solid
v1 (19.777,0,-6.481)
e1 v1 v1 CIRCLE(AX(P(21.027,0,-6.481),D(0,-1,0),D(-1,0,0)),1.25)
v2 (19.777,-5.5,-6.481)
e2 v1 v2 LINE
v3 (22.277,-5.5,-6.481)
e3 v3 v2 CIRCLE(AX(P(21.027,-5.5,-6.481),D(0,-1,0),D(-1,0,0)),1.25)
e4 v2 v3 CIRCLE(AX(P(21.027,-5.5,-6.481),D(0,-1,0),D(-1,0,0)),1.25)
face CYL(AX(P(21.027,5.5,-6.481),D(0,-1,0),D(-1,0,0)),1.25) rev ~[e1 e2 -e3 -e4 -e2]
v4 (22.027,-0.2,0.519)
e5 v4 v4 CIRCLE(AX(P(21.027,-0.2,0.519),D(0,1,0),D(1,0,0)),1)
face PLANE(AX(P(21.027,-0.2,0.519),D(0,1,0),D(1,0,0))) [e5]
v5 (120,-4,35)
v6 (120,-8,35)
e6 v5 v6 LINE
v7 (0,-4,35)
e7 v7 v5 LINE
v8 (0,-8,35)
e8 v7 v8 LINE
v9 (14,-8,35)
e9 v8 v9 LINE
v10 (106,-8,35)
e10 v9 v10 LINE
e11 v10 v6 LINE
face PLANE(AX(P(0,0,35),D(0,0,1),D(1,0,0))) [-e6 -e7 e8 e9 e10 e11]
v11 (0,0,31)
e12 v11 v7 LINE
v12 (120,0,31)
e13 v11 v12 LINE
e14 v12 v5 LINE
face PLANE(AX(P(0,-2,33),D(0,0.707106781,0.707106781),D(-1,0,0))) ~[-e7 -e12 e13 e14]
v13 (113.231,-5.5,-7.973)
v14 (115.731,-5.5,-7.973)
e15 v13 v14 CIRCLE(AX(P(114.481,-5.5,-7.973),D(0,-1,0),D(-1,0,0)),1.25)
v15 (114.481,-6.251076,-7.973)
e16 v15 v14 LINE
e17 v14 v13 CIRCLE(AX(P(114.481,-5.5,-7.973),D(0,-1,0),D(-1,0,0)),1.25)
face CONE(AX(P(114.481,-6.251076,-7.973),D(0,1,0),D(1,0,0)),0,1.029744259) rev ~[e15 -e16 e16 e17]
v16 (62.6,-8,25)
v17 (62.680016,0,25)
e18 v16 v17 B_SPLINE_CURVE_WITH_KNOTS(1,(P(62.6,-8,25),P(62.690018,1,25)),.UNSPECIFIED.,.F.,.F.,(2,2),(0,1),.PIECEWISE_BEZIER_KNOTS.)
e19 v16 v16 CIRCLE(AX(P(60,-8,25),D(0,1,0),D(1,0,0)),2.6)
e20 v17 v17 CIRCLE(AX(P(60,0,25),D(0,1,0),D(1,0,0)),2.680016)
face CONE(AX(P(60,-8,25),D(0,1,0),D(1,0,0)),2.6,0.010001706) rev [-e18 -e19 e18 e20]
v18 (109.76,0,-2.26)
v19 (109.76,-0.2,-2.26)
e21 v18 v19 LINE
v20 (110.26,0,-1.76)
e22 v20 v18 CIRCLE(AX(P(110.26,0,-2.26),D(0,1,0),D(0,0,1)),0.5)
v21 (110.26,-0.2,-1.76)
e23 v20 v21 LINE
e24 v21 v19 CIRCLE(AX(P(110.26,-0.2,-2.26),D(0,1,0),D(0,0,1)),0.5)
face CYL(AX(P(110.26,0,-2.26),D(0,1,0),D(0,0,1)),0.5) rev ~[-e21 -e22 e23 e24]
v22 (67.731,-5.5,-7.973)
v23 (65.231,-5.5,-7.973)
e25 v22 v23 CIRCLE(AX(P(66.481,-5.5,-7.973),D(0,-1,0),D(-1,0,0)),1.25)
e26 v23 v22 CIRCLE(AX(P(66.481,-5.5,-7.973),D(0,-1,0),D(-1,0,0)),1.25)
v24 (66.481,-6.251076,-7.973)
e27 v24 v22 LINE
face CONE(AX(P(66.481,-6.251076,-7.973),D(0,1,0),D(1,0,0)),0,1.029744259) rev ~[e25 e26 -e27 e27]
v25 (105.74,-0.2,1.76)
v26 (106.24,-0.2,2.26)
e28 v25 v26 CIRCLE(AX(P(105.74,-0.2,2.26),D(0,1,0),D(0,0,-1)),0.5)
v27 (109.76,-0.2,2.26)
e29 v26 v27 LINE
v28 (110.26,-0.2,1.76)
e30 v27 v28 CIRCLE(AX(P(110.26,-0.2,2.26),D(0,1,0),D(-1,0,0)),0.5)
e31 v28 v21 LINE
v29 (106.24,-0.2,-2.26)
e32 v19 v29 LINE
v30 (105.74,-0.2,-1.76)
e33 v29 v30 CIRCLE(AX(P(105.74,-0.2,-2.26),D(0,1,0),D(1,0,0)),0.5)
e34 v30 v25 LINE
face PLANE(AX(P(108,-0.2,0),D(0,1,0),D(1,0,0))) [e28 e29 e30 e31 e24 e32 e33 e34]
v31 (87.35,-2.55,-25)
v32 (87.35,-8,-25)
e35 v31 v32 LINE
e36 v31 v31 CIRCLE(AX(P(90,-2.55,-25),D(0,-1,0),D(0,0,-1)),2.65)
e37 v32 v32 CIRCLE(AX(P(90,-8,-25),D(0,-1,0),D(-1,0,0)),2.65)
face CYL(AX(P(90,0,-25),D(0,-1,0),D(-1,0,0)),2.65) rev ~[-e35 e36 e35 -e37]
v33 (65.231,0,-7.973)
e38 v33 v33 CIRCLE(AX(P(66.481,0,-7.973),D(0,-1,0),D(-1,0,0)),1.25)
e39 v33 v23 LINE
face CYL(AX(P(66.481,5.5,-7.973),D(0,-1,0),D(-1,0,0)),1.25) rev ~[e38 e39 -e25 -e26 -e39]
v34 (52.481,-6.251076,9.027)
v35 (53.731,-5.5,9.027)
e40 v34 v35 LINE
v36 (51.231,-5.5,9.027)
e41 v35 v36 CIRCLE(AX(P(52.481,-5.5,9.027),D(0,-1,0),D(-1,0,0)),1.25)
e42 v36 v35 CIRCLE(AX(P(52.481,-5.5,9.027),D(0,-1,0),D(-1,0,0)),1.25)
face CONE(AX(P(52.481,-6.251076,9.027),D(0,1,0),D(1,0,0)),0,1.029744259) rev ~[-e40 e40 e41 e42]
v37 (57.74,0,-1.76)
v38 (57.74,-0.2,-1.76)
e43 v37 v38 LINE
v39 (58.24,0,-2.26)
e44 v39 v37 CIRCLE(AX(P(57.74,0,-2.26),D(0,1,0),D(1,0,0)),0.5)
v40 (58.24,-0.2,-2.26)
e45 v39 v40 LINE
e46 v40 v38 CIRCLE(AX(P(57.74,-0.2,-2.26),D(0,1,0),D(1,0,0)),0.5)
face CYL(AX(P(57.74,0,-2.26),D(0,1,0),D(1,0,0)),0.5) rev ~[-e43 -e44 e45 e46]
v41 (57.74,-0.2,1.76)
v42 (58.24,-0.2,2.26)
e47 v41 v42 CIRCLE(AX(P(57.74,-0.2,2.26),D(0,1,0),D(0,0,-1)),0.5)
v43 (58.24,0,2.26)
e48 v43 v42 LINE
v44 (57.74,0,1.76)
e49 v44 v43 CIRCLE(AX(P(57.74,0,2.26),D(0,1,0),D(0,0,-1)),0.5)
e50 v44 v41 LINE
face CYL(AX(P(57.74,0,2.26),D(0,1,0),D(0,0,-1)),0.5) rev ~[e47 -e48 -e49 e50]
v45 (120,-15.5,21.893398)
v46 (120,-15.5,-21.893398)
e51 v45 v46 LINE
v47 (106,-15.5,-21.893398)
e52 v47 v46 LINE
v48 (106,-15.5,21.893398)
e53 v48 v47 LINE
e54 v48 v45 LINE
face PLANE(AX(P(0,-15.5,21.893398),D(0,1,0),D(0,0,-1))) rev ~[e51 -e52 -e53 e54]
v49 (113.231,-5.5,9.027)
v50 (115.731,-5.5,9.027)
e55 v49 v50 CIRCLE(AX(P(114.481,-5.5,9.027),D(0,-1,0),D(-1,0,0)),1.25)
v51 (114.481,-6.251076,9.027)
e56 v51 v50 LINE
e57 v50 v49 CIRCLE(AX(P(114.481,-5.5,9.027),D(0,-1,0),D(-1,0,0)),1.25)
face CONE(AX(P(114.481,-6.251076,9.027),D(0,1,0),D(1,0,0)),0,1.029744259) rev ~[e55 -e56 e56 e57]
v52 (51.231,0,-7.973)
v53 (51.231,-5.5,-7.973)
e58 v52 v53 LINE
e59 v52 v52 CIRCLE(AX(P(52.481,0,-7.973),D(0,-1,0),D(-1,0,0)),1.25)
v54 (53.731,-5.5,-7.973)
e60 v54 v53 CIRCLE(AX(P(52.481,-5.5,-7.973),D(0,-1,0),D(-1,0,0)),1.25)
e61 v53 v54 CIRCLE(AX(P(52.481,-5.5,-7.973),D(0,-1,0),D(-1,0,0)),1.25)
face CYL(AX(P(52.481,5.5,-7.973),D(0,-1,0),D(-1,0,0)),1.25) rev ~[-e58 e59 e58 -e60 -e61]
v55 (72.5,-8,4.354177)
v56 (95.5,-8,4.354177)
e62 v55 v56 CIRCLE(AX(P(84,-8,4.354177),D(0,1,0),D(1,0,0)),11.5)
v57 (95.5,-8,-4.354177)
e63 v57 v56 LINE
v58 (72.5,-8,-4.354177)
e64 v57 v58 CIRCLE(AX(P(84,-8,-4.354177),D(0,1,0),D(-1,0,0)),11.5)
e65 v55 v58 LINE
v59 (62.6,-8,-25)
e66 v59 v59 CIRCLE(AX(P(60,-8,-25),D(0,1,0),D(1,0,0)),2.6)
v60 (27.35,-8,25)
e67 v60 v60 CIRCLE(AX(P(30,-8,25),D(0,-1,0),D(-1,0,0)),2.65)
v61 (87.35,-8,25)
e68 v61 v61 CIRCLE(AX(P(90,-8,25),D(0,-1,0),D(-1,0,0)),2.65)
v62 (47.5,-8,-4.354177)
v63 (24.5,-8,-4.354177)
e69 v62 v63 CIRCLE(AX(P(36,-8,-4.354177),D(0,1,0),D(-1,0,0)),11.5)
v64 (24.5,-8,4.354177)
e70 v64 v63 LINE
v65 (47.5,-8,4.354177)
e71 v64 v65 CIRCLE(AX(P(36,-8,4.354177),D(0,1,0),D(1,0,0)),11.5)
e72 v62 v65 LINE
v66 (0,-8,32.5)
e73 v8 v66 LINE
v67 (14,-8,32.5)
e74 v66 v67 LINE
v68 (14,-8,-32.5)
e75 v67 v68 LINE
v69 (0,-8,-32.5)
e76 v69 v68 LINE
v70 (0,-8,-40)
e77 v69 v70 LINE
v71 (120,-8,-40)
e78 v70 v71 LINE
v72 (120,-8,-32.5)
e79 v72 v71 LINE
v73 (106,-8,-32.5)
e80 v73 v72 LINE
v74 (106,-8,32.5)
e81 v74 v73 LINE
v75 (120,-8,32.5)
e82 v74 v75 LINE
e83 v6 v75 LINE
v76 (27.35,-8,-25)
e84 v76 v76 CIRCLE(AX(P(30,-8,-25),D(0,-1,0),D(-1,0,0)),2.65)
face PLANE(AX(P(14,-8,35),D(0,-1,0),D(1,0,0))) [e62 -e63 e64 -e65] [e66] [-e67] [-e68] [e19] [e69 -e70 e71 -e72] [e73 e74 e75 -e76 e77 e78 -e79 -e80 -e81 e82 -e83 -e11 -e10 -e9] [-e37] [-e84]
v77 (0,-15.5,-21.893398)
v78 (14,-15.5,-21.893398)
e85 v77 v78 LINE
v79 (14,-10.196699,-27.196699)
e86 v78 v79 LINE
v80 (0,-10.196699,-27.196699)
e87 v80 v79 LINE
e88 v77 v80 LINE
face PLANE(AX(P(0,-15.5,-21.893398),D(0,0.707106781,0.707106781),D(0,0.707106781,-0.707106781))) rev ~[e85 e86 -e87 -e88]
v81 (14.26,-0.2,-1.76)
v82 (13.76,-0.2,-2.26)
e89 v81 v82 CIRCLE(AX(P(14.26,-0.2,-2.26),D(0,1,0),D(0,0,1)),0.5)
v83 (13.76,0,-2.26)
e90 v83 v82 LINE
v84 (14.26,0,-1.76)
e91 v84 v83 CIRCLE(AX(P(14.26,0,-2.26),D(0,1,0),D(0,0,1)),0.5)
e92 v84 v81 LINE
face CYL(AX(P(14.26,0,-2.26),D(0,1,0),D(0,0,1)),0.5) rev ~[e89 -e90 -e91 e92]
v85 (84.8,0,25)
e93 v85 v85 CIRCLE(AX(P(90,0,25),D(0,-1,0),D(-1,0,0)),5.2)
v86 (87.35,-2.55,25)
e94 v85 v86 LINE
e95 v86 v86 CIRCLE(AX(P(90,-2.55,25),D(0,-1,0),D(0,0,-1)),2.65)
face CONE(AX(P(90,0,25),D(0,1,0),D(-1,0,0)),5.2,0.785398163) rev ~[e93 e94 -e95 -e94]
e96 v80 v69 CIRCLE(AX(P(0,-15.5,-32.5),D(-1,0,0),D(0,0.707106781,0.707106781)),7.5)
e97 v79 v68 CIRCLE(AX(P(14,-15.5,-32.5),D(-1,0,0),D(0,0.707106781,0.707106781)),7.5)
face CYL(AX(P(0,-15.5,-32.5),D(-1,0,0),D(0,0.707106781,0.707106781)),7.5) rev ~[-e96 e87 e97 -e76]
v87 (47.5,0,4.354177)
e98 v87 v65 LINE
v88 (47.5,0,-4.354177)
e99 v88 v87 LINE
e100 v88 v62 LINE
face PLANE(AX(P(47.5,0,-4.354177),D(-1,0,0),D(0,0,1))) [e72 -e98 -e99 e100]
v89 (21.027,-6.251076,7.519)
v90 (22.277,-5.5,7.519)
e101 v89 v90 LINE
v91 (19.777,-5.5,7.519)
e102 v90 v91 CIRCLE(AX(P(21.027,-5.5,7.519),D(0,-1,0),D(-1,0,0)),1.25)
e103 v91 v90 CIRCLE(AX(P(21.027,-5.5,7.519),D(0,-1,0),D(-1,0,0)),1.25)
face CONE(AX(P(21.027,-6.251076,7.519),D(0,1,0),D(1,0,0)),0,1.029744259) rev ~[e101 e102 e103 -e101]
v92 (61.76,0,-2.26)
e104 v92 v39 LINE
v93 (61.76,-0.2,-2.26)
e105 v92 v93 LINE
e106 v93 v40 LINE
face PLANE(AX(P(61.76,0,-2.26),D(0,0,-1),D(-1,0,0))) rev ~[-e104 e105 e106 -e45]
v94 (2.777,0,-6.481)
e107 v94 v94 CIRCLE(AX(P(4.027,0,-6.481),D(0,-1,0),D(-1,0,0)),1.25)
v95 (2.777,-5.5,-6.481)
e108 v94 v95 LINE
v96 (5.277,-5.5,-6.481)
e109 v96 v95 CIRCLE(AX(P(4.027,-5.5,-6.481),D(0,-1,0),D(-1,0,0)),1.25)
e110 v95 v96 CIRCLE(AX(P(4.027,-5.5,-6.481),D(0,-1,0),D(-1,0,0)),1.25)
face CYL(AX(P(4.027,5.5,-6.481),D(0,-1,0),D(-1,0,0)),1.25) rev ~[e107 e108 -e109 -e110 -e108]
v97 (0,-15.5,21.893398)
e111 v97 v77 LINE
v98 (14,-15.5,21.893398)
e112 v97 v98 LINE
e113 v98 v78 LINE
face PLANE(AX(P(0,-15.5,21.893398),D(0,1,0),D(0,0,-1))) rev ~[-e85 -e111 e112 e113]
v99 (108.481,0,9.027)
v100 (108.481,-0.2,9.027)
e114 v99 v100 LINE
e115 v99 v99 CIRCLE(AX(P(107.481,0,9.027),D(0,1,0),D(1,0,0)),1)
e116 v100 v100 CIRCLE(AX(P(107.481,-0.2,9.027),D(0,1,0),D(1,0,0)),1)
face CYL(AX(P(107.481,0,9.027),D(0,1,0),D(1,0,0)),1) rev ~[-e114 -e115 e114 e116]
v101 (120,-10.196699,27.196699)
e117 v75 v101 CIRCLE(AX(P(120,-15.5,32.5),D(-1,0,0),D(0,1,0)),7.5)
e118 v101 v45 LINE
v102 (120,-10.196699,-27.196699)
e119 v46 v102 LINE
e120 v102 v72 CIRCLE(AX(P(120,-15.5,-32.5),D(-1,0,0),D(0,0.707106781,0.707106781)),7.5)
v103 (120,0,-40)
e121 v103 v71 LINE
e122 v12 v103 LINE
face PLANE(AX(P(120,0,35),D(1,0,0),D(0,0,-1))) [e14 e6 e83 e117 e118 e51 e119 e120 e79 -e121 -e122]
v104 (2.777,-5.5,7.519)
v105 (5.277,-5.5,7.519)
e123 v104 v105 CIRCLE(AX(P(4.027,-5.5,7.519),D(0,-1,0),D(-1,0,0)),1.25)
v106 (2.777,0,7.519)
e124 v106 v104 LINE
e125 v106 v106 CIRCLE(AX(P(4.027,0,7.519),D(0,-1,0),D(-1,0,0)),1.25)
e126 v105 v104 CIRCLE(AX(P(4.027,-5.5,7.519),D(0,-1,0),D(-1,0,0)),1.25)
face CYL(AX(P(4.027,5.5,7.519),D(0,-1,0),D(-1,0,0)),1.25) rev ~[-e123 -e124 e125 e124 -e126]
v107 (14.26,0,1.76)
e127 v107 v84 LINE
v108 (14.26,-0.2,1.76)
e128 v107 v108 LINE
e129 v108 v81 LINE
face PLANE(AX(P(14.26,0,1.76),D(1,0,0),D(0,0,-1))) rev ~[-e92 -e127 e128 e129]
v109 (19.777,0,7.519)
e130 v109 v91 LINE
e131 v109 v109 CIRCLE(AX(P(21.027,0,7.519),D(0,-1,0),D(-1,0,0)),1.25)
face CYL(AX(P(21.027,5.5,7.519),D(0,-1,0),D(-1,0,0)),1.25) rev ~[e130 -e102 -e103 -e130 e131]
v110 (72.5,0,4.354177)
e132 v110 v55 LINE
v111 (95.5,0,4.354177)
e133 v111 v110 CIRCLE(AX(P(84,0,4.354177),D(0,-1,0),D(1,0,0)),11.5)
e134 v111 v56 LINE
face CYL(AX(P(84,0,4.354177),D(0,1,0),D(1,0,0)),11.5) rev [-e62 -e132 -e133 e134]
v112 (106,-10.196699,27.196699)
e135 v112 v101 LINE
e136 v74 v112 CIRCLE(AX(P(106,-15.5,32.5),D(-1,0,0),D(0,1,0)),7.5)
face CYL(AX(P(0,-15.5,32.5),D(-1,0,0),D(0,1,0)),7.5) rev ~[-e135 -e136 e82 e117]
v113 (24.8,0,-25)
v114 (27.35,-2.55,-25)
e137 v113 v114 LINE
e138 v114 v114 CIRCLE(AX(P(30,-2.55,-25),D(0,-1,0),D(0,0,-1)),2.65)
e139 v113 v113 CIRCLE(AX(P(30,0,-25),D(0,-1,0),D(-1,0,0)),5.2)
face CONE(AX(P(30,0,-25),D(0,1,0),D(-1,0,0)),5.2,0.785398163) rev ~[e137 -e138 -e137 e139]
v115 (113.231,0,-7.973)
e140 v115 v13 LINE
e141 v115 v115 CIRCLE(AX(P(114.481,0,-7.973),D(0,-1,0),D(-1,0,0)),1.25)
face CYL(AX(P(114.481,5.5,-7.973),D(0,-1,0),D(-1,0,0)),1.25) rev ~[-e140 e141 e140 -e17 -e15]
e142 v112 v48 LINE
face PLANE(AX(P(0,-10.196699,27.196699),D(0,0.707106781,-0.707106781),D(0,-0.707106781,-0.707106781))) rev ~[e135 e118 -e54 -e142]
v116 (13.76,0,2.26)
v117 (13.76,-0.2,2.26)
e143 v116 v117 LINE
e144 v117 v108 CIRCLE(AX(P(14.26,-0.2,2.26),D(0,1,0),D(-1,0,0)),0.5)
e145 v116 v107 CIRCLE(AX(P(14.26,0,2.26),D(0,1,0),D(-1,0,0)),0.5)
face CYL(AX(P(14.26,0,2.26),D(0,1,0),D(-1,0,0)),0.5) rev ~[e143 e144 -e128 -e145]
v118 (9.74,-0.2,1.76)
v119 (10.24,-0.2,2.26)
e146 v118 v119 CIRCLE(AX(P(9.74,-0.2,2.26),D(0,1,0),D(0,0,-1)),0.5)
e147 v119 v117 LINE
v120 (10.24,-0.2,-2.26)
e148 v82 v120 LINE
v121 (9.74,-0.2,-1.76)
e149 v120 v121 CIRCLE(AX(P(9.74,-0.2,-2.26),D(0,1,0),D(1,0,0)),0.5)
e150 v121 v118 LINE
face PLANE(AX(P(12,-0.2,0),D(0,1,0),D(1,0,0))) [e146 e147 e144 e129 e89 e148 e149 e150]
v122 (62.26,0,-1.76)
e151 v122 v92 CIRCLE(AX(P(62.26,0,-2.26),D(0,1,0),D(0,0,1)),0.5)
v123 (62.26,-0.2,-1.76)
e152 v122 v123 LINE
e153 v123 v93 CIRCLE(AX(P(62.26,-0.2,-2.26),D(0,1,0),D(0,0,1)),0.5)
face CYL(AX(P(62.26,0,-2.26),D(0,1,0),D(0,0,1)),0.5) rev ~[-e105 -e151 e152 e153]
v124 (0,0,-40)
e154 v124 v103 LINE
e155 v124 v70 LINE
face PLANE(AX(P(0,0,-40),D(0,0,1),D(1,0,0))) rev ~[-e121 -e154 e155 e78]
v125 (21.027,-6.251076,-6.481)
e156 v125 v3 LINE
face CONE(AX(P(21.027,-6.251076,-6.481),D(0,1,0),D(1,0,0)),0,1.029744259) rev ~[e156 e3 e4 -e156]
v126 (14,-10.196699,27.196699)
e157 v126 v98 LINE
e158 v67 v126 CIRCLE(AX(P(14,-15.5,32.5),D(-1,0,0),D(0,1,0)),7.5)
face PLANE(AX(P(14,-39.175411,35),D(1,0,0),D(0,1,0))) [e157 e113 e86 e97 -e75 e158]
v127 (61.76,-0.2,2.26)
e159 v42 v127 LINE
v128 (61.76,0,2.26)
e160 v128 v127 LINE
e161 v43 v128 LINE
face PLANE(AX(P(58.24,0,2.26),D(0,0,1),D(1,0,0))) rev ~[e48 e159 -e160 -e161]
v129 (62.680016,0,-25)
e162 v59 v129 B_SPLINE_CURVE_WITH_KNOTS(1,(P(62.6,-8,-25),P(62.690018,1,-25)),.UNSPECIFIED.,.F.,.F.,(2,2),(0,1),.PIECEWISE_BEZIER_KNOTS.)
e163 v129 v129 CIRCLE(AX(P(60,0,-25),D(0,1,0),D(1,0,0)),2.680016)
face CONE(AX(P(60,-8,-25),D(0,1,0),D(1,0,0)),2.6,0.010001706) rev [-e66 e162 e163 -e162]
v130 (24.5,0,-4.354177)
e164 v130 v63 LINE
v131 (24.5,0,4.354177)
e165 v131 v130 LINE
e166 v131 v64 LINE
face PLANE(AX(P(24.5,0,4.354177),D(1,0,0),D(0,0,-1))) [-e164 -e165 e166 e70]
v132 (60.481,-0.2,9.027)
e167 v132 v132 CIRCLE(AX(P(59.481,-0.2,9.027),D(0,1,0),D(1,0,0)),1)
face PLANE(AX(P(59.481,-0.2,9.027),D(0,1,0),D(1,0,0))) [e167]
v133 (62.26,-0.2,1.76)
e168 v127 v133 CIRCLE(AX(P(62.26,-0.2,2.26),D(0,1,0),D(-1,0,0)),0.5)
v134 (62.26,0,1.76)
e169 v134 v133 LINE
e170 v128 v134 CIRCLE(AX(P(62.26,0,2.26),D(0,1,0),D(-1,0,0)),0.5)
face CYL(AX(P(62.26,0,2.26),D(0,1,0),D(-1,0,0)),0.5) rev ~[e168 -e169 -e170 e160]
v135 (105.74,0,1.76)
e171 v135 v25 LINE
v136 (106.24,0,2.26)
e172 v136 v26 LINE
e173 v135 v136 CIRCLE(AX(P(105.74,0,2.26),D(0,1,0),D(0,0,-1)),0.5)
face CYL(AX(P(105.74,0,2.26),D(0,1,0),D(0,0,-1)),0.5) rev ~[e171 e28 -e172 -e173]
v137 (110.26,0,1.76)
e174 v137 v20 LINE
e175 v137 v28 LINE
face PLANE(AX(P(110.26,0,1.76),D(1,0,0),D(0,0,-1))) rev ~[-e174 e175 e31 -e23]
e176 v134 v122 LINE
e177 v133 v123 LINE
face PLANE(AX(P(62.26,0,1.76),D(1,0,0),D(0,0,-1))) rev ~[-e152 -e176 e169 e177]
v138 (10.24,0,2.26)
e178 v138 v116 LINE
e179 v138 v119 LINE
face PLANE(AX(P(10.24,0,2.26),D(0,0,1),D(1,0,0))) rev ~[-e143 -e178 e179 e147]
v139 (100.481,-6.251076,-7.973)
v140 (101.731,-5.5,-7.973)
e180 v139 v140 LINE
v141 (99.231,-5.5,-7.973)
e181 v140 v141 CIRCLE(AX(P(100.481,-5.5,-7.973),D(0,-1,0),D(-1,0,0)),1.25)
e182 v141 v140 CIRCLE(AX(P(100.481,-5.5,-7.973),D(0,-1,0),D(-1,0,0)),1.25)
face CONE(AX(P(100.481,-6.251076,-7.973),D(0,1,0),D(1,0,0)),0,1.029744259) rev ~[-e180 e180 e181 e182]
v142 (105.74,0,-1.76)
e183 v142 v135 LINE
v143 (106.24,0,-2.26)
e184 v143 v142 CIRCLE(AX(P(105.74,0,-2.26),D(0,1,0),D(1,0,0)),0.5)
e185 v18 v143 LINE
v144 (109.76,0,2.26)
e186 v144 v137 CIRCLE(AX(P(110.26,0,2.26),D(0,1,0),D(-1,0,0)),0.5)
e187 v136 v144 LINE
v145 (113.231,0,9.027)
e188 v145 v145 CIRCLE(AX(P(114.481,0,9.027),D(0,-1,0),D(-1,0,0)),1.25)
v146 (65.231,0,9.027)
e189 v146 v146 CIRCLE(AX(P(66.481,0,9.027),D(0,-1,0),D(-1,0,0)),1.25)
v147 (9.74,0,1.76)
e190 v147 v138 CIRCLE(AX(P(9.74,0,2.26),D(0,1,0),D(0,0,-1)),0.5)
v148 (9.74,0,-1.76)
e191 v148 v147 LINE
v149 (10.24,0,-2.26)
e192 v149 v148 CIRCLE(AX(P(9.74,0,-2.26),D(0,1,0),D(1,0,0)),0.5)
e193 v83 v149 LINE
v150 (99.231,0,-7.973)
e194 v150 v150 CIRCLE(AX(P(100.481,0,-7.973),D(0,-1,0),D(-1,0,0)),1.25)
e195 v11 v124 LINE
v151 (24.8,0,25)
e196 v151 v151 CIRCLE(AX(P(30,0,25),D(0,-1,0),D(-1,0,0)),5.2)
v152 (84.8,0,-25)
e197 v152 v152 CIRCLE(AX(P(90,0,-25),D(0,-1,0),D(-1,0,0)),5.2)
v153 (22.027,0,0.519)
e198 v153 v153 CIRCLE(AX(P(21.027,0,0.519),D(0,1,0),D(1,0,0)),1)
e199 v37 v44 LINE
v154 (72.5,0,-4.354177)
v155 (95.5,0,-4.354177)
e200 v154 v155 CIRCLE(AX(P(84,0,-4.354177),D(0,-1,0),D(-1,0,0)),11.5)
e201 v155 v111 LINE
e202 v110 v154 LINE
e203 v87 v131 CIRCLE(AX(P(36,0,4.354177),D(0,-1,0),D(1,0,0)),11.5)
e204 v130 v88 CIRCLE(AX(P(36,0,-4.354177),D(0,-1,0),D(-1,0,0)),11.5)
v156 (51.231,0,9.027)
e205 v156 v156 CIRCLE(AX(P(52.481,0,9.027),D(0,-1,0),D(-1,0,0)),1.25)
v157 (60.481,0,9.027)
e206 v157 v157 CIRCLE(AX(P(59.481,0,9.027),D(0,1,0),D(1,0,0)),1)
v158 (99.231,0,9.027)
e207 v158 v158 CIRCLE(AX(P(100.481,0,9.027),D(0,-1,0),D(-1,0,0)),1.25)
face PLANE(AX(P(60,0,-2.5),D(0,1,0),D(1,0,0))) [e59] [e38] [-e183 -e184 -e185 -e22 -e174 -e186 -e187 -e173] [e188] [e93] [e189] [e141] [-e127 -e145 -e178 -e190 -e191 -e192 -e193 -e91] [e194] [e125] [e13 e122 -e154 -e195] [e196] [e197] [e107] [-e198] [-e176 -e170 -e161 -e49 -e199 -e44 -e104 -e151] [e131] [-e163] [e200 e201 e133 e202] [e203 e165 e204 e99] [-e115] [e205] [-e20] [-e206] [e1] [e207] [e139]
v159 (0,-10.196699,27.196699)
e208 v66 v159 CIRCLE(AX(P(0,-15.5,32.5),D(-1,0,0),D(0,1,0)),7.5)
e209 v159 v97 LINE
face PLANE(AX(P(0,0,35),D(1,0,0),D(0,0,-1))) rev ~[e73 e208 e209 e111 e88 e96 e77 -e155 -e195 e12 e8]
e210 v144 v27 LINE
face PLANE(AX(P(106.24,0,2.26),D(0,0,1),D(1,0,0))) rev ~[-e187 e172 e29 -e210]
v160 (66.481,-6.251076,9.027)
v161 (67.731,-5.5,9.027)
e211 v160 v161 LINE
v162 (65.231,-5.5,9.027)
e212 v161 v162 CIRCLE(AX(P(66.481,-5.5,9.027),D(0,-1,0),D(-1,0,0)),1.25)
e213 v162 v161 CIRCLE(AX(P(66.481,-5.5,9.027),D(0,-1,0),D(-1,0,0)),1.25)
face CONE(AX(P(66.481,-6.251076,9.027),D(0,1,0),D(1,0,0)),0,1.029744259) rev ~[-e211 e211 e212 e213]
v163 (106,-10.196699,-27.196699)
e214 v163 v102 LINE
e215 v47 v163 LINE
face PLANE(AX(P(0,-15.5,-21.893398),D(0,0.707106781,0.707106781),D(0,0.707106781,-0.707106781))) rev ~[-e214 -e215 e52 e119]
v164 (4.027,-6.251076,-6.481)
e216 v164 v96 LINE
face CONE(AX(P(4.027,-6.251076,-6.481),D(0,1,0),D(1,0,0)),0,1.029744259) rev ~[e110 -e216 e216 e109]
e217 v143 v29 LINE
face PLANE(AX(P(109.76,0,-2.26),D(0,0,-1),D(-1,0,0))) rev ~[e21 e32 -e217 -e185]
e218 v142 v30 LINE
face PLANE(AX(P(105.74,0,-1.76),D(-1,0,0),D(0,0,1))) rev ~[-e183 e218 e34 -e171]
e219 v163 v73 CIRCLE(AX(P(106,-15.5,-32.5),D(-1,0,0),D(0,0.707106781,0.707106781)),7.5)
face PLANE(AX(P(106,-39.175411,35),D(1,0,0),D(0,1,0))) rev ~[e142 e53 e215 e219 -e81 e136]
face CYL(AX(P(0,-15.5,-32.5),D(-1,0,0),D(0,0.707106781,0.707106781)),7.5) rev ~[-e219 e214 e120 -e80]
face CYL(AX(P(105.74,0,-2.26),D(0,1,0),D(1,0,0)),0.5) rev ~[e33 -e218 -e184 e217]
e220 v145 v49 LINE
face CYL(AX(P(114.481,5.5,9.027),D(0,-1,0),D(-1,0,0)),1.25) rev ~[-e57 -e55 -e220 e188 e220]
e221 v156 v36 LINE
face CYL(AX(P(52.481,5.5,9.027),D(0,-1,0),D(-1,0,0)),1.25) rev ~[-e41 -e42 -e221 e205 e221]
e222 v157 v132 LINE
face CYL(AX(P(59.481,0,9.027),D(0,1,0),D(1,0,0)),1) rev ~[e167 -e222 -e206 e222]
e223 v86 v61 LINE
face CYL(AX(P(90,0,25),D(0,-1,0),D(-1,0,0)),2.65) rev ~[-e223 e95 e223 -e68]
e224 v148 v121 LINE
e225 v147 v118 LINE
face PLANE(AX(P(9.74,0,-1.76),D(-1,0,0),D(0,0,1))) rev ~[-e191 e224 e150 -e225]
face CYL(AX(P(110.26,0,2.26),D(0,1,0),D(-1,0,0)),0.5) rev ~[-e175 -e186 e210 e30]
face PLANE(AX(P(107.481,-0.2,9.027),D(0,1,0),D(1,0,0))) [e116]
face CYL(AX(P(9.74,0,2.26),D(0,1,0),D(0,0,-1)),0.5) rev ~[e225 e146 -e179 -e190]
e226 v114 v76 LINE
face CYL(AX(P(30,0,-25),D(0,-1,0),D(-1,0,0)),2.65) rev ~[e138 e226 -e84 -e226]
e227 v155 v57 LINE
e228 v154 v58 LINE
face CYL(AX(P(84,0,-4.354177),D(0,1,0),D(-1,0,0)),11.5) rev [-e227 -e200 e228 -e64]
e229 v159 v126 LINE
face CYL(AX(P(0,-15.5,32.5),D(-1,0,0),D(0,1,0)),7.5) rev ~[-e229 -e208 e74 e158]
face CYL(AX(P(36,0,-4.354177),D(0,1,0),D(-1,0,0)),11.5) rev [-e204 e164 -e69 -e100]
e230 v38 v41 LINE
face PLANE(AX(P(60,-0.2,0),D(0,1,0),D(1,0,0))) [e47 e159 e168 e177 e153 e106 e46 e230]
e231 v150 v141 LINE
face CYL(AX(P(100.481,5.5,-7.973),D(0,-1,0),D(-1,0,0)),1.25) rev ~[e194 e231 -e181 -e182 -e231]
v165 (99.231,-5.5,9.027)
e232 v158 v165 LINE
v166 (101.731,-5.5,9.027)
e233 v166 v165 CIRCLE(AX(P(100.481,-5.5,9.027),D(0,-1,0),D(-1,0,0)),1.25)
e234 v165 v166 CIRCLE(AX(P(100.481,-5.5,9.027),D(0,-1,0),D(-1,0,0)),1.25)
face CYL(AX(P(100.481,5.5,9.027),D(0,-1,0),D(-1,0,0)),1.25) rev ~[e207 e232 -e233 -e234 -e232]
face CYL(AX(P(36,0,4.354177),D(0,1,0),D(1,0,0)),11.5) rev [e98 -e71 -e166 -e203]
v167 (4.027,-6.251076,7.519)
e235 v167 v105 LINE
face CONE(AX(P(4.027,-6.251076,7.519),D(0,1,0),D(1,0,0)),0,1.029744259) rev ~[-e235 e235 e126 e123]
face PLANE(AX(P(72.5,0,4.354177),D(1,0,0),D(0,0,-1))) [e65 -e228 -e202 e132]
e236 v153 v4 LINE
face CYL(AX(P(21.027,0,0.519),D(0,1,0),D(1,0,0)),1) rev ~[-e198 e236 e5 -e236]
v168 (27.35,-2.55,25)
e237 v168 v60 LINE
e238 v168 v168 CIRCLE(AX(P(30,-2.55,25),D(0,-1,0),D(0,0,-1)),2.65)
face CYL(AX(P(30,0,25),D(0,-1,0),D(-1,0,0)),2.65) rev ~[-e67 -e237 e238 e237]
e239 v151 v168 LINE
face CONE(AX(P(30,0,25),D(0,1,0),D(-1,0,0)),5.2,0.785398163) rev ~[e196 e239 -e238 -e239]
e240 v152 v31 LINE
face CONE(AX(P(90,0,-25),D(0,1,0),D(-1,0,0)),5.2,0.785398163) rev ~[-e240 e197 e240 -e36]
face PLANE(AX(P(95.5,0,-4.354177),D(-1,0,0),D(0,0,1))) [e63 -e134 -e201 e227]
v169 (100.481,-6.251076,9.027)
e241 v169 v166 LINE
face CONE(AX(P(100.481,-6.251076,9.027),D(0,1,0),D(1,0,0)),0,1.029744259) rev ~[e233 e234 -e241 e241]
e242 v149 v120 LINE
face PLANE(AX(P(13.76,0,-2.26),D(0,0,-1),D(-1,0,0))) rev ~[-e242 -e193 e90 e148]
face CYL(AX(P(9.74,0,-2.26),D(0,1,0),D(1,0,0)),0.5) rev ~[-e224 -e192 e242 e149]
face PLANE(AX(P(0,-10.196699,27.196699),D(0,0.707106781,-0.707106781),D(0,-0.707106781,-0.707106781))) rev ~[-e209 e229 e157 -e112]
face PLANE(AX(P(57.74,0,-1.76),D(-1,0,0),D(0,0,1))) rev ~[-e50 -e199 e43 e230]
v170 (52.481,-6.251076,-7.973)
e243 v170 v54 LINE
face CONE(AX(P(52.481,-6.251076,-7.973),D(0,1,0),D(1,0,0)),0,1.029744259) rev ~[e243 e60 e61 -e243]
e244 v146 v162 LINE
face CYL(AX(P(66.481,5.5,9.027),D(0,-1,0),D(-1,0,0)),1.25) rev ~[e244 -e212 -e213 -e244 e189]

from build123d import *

# Parameters (mm, degrees)
SKETCH_5_W                  = 120
SKETCH_5_H                  = 75
EXTRUDE_2_DEPTH             = 8
SKETCH2_R                   = 1
CUT_EXTRUDE2_DEPTH          = 0.2
M3X0_5_TAPPED_HOLE1_D       = 2.5
M3X0_5_TAPPED_HOLE1_DEPTH   = 5.5
M3X0_5_TAPPED_HOLE1_TIP     = 0.751075774
HOLE_WIZARD_M51_D           = 5.3
HOLE_WIZARD_M51_CSINK_D     = 10.4
HOLE_WIZARD_M51_CSINK_ANGLE = 90
SKETCH5_R                   = 2.6
CUT_EXTRUDE3_DEPTH          = 9
CUT_EXTRUDE3_TAPER          = -0.573055556
CUT_EXTRUDE_1_DEPTH         = 10
EXTRUDE_3_DEPTH             = 120
SKETCH_8_W                  = 92
SKETCH_8_H                  = 31.175411479
CUT_EXTRUDE_2_DEPTH         = 76
CHAMFER_1_SIZE              = 4


with BuildPart() as part:
    # Эскиз5 → Бобышка-Вытянуть2 (new body)
    with BuildSketch(Plane(origin=(0, 0, 0), x_dir=(1, 0, 0), z_dir=(0, 1, 0))):
        with Locations((60, 2.5)):
            Rectangle(SKETCH_5_W, SKETCH_5_H)
    extrude(amount=-EXTRUDE_2_DEPTH)

    # Sketch2 → Cut-Extrude2 (cut)
    with BuildSketch(Plane(origin=(0, 0, 0), x_dir=(1, 0, 0), z_dir=(0, 1, 0))):
        with Locations((59.481, -9.027)):
            Circle(SKETCH2_R)
        with Locations((21.027, -0.519)):
            Circle(SKETCH2_R)
        with Locations((107.481, -9.027)):
            Circle(SKETCH2_R)
        with BuildLine():
            Line((106.24, -2.26), (109.76, -2.26))
            ThreePointArc((109.76, -2.26), (110.613553391, -2.613553391), (110.26, -1.76))
            Line((110.26, -1.76), (110.26, 1.76))
            ThreePointArc((110.26, 1.76), (110.613553391, 2.613553391), (109.76, 2.26))
            Line((109.76, 2.26), (106.24, 2.26))
            ThreePointArc((106.24, 2.26), (105.386446609, 2.613553391), (105.74, 1.76))
            Line((105.74, 1.76), (105.74, -1.76))
            ThreePointArc((105.74, -1.76), (105.386446609, -2.613553391), (106.24, -2.26))
        make_face()
        with BuildLine():
            Line((58.24, -2.26), (61.76, -2.26))
            ThreePointArc((61.76, -2.26), (62.613553391, -2.613553391), (62.26, -1.76))
            Line((62.26, -1.76), (62.26, 1.76))
            ThreePointArc((62.26, 1.76), (62.613553391, 2.613553391), (61.76, 2.26))
            Line((61.76, 2.26), (58.24, 2.26))
            ThreePointArc((58.24, 2.26), (57.386446609, 2.613553391), (57.74, 1.76))
            Line((57.74, 1.76), (57.74, -1.76))
            ThreePointArc((57.74, -1.76), (57.386446609, -2.613553391), (58.24, -2.26))
        make_face()
        with BuildLine():
            Line((10.24, -2.26), (13.76, -2.26))
            ThreePointArc((13.76, -2.26), (14.613553391, -2.613553391), (14.26, -1.76))
            Line((14.26, -1.76), (14.26, 1.76))
            ThreePointArc((14.26, 1.76), (14.613553391, 2.613553391), (13.76, 2.26))
            Line((13.76, 2.26), (10.24, 2.26))
            ThreePointArc((10.24, 2.26), (9.386446609, 2.613553391), (9.74, 1.76))
            Line((9.74, 1.76), (9.74, -1.76))
            ThreePointArc((9.74, -1.76), (9.386446609, -2.613553391), (10.24, -2.26))
        make_face()
    extrude(amount=-CUT_EXTRUDE2_DEPTH, mode=Mode.SUBTRACT)

    # M3x0.5 Tapped Hole1
    with Locations(Plane(origin=(0, 0, 0), x_dir=(1, 0, 0), z_dir=(0, 1, 0))):
        with Locations((21.027, 6.481), (4.027, 6.481), (4.027, -7.519), (21.027, -7.519), (52.481, 7.973), (66.481, 7.973), (66.481, -9.027), (52.481, -9.027), (100.481, -9.027), (114.481, -9.027), (114.481, 7.973), (100.481, 7.973)):
            Hole(M3X0_5_TAPPED_HOLE1_D / 2, depth=M3X0_5_TAPPED_HOLE1_DEPTH)
            with Locations((0, 0, -(M3X0_5_TAPPED_HOLE1_DEPTH + M3X0_5_TAPPED_HOLE1_TIP / 2))):  # 118° drill point
                Cone(0, M3X0_5_TAPPED_HOLE1_D / 2, M3X0_5_TAPPED_HOLE1_TIP, mode=Mode.SUBTRACT)

    # Зенковка для  винта с плоской головкой M51 (through all)
    with Locations(Plane(origin=(0, 0, 0), x_dir=(1, 0, 0), z_dir=(0, 1, 0))):
        with Locations((30, 25), (90, 25), (90, -25), (30, -25)):
            CounterSinkHole(HOLE_WIZARD_M51_D / 2, HOLE_WIZARD_M51_CSINK_D / 2, counter_sink_angle=HOLE_WIZARD_M51_CSINK_ANGLE)

    # Sketch5 → Cut-Extrude3 (cut, through all)
    with BuildSketch(Plane.XZ.offset(8)):
        with Locations((60, 25)):
            Circle(SKETCH5_R)
        with Locations((60, -25)):
            Circle(SKETCH5_R)
    extrude(amount=-CUT_EXTRUDE3_DEPTH, taper=CUT_EXTRUDE3_TAPER, mode=Mode.SUBTRACT)

    # Эскиз6 → Вырез-Вытянуть1 (cut)
    with BuildSketch(Plane(origin=(0, 0, 0), x_dir=(1, 0, 0), z_dir=(0, 1, 0))):
        with BuildLine():
            Line((95.5, 4.354177178), (95.5, -4.354177178))
            ThreePointArc((95.5, -4.354177178), (84, -15.854177178), (72.5, -4.354177178))
            Line((72.5, -4.354177178), (72.5, 4.354177178))
            ThreePointArc((72.5, 4.354177178), (84, 15.854177178), (95.5, 4.354177178))
        make_face()
        with BuildLine():
            Line((47.5, 4.354177178), (47.5, -4.354177178))
            ThreePointArc((47.5, -4.354177178), (36, -15.854177178), (24.5, -4.354177178))
            Line((24.5, -4.354177178), (24.5, 4.354177178))
            ThreePointArc((24.5, 4.354177178), (36, 15.854177178), (47.5, 4.354177178))
        make_face()
    extrude(amount=-CUT_EXTRUDE_1_DEPTH, mode=Mode.SUBTRACT)

    # Эскиз7 → Бобышка-Вытянуть3 (add, through all)
    with BuildSketch(Plane.ZY):
        with BuildLine():
            Line((-32.5, -8), (32.5, -8))
            ThreePointArc((32.5, -8), (29.629874257, -8.570903506), (27.196699141, -10.196699141))
            Line((27.196699141, -10.196699141), (21.893398282, -15.5))
            Line((21.893398282, -15.5), (-21.893398282, -15.5))
            Line((-21.893398282, -15.5), (-27.196699141, -10.196699141))
            ThreePointArc((-27.196699141, -10.196699141), (-29.629874257, -8.570903506), (-32.5, -8))
        make_face()
    extrude(amount=-EXTRUDE_3_DEPTH)

    # Эскиз8 → Вырез-Вытянуть2 (cut, through all)
    with BuildSketch(Plane.XY.offset(35)):
        with Locations((60, -23.58770574)):
            Rectangle(SKETCH_8_W, SKETCH_8_H)
    extrude(amount=-CUT_EXTRUDE_2_DEPTH, mode=Mode.SUBTRACT)

    # Фаска1
    chamfer_1_edges = [part.edges().sort_by_distance(p)[0] for p in [
        (60, 0, 35),
    ]]
    chamfer(chamfer_1_edges, length=CHAMFER_1_SIZE)


solid = part.part
